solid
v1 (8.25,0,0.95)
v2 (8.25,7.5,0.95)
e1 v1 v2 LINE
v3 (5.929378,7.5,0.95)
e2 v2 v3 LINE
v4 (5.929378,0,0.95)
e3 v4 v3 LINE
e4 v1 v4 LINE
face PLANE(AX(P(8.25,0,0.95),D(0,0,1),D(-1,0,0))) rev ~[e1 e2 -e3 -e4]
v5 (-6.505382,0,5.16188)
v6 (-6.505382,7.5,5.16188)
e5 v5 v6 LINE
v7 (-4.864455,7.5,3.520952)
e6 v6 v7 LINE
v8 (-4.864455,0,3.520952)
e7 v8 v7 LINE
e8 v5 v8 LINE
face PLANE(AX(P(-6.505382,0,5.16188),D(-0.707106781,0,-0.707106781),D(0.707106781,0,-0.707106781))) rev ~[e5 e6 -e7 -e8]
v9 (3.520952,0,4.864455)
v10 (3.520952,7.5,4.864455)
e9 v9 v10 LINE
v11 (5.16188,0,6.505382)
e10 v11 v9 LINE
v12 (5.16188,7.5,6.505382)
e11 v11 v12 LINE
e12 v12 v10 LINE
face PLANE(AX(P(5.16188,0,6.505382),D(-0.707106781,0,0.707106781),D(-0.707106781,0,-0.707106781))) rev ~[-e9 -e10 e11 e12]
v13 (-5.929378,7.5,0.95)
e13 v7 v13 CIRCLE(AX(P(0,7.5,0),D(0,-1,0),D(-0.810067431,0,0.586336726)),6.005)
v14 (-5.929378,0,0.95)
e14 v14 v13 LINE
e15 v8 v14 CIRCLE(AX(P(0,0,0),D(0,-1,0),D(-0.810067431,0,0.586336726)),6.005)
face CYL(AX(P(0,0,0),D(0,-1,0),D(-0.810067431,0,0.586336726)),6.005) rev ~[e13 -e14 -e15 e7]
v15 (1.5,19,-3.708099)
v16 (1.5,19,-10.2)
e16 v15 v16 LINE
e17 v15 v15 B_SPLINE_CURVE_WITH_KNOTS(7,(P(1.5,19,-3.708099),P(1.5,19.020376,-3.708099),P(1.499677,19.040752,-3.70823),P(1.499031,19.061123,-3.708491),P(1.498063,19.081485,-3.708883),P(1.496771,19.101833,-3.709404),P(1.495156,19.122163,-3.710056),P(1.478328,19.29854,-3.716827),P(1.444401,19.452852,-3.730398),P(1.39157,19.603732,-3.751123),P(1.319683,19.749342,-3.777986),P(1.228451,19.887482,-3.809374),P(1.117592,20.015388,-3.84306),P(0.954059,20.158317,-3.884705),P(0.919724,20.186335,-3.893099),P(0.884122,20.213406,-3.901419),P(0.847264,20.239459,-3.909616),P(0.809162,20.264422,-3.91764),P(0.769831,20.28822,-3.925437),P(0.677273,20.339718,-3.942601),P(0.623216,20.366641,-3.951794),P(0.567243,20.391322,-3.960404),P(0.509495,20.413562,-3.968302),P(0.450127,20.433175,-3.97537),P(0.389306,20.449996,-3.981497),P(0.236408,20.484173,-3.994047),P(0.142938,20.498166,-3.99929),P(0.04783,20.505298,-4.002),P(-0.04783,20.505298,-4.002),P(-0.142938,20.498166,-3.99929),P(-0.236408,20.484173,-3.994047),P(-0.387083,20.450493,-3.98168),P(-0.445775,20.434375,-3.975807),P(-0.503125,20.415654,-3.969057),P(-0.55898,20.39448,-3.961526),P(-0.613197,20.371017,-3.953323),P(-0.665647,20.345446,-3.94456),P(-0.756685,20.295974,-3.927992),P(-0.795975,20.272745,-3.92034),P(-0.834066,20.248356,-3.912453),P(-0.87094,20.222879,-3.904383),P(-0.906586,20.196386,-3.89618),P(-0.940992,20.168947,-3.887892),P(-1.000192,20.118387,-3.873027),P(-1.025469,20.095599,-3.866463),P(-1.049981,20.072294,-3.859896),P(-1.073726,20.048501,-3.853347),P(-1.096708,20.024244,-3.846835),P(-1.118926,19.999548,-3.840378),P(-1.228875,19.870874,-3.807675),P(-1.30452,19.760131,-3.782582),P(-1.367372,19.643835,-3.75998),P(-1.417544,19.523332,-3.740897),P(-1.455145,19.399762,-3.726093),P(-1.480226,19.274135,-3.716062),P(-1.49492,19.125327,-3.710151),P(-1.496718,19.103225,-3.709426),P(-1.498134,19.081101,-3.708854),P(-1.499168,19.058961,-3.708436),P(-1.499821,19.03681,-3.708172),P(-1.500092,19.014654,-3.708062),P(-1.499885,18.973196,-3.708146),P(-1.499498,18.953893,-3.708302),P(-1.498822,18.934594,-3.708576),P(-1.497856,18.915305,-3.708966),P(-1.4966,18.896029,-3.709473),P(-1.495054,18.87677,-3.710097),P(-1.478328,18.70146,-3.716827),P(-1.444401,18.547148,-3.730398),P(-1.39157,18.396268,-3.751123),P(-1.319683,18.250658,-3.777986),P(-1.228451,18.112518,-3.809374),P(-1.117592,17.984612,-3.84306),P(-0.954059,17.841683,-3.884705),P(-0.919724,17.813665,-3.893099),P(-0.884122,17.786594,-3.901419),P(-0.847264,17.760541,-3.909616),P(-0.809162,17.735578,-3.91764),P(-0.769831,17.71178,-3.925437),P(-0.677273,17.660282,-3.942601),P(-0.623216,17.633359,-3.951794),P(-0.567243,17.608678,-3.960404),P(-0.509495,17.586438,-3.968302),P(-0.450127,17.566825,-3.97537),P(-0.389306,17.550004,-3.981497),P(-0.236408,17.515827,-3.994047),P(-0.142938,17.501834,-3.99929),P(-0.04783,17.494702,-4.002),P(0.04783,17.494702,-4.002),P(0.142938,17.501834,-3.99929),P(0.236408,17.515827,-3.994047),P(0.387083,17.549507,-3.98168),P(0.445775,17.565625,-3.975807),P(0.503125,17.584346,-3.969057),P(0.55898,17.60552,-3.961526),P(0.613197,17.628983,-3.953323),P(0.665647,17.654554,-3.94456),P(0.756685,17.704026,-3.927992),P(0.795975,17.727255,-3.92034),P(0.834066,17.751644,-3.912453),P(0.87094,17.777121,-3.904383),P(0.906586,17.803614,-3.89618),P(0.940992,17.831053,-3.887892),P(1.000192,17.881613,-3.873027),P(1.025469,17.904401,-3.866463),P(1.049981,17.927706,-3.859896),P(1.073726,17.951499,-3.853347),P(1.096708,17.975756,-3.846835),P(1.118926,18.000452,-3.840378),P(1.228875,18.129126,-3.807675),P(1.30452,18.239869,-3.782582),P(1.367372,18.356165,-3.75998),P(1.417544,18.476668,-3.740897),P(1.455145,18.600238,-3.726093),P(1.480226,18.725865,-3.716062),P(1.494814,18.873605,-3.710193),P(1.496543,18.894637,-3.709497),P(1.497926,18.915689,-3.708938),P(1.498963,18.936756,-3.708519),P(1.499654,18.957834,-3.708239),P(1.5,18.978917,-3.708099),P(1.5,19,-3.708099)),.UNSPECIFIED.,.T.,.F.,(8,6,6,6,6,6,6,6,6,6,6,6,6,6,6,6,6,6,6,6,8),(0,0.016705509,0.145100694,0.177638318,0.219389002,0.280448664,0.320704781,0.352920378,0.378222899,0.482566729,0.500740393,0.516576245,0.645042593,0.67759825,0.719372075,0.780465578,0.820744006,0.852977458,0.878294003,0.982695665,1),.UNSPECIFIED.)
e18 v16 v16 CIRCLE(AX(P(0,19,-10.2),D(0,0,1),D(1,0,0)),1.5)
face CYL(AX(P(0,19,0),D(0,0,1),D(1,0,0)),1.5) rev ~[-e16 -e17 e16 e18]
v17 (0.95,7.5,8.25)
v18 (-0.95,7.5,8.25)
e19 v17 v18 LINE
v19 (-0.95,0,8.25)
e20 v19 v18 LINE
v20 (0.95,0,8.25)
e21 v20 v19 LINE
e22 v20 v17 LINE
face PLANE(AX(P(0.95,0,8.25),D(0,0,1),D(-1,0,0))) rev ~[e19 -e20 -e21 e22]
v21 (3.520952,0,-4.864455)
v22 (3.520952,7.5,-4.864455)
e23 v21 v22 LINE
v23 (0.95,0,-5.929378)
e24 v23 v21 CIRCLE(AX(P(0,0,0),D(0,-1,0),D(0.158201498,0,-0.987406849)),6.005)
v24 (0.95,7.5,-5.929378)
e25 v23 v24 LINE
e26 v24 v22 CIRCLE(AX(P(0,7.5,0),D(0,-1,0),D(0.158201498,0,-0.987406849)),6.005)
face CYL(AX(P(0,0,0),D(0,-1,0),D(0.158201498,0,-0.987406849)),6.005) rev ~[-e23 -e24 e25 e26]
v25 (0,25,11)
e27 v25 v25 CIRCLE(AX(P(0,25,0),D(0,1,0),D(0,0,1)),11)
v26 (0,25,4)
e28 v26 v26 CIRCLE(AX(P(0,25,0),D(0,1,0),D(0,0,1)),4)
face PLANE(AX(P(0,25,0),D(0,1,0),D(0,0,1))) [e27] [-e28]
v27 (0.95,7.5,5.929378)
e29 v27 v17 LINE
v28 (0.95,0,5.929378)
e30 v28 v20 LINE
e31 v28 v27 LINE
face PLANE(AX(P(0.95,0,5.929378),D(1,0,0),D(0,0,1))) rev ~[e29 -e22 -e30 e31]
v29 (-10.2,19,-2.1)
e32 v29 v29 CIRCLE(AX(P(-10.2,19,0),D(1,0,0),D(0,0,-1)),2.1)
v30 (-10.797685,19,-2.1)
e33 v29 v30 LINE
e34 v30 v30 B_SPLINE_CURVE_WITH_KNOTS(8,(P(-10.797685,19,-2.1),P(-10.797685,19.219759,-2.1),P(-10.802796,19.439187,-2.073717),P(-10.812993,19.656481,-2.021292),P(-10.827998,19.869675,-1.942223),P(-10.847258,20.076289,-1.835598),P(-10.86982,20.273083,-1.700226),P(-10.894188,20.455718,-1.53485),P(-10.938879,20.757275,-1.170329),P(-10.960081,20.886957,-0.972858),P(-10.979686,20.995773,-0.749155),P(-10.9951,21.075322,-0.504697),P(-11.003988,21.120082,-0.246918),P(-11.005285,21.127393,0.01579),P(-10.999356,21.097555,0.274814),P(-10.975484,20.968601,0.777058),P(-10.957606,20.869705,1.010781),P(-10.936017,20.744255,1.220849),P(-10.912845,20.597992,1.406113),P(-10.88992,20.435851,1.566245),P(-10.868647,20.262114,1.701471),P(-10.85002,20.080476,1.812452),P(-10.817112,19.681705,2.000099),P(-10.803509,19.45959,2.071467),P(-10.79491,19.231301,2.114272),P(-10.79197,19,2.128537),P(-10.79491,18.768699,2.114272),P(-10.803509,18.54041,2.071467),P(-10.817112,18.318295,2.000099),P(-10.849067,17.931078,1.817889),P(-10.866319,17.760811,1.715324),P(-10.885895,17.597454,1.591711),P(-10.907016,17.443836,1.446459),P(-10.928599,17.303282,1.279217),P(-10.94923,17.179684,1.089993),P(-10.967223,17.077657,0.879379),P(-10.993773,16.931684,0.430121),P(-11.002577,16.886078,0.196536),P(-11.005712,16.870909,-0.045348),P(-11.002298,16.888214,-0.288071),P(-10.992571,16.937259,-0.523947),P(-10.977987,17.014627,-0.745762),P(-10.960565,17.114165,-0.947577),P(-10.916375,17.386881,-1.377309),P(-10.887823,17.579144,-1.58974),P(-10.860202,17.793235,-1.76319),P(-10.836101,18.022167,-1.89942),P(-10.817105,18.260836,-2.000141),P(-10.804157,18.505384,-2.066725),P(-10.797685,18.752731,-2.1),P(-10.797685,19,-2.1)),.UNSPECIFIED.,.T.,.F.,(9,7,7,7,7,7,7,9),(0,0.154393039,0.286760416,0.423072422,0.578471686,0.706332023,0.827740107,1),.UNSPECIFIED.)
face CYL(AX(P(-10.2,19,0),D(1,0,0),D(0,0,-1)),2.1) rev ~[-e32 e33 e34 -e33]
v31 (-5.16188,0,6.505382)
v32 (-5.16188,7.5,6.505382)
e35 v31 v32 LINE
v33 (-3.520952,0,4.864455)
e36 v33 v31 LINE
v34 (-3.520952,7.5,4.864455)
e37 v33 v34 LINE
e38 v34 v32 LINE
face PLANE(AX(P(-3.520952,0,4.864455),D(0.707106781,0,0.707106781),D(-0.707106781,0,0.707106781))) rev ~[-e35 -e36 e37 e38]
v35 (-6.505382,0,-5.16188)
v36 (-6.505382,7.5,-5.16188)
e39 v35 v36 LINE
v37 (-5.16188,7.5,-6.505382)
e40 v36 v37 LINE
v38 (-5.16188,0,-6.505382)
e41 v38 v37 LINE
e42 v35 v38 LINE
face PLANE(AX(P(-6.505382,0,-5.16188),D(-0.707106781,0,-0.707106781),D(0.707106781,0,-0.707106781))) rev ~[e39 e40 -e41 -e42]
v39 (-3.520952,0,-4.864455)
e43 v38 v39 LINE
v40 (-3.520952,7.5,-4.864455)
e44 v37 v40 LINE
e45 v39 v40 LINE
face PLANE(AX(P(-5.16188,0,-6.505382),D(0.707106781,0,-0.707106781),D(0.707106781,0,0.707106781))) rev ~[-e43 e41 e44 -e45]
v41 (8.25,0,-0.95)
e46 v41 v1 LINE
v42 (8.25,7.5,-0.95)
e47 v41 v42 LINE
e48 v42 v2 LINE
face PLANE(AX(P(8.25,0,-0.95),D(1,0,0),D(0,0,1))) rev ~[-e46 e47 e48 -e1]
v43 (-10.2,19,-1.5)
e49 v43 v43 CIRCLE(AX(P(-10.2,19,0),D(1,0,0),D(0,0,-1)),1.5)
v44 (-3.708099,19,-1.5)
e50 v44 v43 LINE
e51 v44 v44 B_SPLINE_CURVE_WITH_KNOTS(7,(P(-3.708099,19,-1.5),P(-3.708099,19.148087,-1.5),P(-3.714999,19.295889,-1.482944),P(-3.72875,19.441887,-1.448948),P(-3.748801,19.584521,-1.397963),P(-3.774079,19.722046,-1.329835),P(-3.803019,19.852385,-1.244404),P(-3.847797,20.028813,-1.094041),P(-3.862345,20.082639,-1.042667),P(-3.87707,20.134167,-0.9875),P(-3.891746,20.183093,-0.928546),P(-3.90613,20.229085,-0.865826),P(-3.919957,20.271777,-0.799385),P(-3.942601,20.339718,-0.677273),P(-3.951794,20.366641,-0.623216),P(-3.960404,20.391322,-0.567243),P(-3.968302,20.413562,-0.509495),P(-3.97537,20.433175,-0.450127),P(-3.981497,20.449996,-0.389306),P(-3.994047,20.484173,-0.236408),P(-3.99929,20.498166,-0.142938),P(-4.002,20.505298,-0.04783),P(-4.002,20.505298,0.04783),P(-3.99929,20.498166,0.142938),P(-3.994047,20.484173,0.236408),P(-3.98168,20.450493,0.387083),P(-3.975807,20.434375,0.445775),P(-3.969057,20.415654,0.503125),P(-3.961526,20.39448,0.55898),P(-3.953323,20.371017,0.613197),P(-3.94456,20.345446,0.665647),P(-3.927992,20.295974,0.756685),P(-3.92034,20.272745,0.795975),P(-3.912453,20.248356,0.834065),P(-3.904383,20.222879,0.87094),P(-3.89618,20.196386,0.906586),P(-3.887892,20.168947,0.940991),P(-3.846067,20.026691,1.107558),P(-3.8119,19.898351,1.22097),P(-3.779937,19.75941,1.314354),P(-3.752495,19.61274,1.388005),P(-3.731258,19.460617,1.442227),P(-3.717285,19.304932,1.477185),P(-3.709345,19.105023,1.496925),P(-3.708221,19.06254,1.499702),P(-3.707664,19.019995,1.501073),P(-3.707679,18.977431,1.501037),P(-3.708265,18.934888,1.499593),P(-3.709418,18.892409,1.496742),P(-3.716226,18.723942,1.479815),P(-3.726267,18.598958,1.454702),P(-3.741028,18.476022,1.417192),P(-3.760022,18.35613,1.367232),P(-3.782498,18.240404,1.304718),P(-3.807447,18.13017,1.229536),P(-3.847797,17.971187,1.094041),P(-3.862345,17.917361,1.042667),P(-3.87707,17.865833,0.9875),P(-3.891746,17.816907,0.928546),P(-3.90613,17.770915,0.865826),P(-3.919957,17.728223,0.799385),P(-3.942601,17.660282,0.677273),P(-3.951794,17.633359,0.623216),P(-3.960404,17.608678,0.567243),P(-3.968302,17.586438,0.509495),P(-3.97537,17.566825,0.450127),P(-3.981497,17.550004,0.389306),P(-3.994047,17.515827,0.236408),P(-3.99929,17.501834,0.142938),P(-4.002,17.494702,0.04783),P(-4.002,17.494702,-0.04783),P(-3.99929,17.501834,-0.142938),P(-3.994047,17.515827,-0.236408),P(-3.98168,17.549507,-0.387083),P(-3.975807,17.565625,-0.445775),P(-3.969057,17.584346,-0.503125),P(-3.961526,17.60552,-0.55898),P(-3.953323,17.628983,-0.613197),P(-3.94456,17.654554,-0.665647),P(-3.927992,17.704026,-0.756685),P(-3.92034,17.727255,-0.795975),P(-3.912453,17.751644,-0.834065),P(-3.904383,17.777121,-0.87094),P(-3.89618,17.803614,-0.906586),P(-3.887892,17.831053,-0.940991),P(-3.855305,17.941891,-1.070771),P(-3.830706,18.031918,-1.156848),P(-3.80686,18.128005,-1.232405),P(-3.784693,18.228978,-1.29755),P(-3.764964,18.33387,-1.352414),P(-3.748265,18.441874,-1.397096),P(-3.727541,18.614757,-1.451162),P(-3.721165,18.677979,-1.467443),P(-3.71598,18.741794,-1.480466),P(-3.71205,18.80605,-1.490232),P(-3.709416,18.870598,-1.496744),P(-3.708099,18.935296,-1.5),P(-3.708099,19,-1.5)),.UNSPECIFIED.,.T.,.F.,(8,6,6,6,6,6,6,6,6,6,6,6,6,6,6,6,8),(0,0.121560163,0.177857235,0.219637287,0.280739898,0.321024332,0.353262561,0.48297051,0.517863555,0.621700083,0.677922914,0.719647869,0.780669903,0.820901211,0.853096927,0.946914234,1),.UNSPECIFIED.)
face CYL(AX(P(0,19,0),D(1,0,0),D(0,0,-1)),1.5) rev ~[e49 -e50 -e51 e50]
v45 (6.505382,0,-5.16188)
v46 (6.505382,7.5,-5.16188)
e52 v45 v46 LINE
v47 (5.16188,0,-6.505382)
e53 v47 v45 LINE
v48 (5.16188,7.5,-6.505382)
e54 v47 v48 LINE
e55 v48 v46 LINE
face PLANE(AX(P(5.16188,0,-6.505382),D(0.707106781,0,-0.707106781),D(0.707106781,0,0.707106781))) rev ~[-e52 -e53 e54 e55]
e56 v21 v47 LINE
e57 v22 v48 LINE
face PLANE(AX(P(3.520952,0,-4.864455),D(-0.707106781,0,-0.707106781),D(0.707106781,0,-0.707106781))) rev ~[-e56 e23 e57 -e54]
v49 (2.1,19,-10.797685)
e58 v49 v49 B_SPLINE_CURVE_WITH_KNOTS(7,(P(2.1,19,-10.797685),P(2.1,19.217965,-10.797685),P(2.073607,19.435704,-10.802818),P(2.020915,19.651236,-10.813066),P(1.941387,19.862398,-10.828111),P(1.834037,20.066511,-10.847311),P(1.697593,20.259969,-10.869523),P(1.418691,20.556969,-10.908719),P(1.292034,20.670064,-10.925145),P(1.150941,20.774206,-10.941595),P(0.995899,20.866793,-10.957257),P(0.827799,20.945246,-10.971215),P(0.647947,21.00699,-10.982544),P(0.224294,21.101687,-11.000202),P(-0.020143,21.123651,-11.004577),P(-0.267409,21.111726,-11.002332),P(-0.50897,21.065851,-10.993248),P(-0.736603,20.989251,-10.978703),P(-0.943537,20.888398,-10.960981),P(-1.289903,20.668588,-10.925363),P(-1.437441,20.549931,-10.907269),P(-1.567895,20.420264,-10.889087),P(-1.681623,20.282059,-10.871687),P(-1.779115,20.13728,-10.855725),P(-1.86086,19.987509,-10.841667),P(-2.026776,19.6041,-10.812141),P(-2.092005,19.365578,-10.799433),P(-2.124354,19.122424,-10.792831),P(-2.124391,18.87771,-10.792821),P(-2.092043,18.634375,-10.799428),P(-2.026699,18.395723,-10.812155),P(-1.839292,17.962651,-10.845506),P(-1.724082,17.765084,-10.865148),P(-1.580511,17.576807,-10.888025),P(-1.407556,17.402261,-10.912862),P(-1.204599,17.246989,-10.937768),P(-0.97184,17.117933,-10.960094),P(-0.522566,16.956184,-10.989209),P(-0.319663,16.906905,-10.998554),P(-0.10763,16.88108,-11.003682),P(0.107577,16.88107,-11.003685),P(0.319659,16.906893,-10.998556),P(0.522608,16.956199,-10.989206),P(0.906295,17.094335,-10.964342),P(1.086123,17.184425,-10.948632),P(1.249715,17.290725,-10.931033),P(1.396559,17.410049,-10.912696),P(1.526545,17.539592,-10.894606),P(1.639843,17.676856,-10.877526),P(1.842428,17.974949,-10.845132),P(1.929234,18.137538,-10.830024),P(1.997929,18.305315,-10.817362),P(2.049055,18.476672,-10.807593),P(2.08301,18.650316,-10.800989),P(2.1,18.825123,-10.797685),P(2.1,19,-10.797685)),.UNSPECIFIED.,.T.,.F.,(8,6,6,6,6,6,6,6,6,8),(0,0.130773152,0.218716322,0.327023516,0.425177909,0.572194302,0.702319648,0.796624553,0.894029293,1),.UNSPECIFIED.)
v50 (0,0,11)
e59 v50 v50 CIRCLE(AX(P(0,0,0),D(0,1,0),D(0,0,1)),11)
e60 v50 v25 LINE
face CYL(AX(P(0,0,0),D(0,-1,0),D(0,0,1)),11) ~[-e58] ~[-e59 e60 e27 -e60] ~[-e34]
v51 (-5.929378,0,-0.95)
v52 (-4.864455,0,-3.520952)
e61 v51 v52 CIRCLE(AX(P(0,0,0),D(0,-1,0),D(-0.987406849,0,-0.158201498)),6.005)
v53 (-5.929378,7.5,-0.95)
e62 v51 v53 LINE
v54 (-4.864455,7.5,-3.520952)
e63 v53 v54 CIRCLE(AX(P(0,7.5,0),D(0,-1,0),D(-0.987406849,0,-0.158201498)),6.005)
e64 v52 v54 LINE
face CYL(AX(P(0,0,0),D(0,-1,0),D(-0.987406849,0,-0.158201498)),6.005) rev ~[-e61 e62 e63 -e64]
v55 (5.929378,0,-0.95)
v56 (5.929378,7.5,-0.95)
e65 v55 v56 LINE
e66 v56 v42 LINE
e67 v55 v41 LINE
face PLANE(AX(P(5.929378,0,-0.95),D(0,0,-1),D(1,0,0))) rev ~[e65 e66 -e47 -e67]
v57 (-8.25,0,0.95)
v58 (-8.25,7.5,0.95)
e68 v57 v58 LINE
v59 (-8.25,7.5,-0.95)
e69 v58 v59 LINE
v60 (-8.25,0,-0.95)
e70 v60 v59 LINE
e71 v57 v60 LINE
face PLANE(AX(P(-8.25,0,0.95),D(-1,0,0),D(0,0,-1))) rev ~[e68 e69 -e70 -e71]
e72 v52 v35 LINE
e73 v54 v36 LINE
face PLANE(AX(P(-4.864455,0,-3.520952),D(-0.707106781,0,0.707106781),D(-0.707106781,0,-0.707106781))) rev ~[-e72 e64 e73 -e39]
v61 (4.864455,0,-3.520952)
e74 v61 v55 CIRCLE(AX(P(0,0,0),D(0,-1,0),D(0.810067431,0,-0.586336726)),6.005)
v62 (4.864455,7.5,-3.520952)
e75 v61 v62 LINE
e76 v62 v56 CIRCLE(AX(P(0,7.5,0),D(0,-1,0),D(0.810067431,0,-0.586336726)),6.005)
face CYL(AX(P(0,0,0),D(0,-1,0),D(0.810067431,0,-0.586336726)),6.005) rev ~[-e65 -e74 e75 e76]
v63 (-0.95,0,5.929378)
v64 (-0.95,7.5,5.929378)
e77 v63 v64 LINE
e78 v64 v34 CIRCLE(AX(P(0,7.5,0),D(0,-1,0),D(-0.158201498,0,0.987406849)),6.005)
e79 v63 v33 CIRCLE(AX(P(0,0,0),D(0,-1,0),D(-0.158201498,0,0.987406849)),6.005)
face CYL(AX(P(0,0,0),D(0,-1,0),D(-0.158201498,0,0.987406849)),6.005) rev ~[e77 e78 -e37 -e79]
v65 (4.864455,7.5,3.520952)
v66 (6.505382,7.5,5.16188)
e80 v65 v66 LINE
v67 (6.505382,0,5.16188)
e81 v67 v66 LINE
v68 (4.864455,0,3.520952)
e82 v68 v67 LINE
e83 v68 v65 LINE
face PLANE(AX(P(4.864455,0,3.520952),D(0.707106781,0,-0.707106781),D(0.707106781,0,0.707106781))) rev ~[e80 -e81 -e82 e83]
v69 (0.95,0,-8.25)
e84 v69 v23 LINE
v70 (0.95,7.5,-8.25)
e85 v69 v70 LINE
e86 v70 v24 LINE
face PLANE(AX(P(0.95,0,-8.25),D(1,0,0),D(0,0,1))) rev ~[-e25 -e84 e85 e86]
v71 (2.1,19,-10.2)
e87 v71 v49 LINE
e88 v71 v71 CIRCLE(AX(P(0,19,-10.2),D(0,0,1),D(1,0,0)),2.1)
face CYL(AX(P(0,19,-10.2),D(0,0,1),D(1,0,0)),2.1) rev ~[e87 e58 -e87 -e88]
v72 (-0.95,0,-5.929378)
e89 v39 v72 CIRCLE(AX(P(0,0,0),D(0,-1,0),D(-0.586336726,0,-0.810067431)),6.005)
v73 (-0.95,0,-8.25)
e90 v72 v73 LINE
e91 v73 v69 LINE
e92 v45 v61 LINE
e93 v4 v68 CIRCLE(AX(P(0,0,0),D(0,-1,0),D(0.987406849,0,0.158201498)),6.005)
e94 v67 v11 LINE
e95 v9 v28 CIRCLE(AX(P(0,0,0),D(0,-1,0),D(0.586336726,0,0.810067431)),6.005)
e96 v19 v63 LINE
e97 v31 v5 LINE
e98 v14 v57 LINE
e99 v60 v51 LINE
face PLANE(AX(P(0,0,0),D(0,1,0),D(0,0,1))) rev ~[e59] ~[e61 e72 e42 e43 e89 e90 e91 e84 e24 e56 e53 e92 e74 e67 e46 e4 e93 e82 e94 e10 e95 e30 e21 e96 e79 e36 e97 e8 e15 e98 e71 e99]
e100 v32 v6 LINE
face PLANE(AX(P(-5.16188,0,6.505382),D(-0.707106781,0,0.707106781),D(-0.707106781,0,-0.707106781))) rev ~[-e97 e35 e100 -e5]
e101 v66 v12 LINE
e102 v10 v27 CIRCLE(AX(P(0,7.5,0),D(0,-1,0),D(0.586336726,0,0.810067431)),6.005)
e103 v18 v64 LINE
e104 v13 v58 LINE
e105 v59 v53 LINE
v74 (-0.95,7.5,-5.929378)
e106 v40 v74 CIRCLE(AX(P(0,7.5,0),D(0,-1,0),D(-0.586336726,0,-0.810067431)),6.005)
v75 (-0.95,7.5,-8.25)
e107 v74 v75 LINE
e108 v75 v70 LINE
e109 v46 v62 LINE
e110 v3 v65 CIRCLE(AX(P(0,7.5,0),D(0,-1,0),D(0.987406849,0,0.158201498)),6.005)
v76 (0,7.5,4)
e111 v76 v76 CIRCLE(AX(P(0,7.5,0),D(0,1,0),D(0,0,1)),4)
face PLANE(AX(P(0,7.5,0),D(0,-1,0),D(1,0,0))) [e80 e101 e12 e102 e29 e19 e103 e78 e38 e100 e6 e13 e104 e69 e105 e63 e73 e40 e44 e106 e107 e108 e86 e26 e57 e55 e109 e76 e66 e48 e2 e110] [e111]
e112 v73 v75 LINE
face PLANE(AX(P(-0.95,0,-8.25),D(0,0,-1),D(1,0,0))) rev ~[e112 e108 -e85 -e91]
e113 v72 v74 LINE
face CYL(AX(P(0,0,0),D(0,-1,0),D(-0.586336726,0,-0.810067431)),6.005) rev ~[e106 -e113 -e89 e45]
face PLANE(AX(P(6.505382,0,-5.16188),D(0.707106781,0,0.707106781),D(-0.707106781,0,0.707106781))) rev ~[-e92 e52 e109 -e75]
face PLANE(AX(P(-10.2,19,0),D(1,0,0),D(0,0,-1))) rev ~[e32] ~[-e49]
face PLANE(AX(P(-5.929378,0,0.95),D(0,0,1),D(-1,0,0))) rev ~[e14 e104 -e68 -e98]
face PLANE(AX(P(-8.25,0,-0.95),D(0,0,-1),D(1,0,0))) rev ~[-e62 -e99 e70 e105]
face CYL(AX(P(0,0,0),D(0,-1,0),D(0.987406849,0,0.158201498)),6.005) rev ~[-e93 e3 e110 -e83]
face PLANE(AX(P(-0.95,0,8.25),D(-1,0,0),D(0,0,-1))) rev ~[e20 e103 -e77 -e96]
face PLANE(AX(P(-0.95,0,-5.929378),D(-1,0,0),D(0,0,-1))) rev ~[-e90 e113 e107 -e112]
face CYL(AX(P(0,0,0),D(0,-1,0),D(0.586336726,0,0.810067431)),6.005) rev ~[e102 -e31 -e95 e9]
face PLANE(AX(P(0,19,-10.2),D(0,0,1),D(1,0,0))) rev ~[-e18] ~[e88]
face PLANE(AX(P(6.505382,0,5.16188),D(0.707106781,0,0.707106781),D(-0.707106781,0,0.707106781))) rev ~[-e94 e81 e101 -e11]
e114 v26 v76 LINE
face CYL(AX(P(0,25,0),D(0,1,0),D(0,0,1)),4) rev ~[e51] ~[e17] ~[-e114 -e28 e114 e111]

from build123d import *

# Parameters (mm, degrees)
SKETCH1_R           = 11
BOSS_EXTRUDE1_DEPTH = 25
SKETCH2_R           = 4
CUT_EXTRUDE1_DEPTH  = 30.444863729
CUT_EXTRUDE2_DEPTH  = 7.5
SKETCH4_R           = 1.5
CUT_EXTRUDE3_DEPTH  = 30.444863729
SKETCH5_R           = 1.5
CUT_EXTRUDE4_DEPTH  = 30.444863896
CUT_EXTRUDE5_START  = -10.2
SKETCH7_R           = 2.1
CUT_EXTRUDE5_DEPTH  = 10
CUT_EXTRUDE6_START  = -10.2
SKETCH8_R           = 2.1
CUT_EXTRUDE6_DEPTH  = 10


with BuildPart() as part:
    # Sketch1 → Boss-Extrude1 (new body)
    with BuildSketch(Plane(origin=(0, 0, 0), x_dir=(1, 0, 0), z_dir=(0, 1, 0))):
        with Locations(Location((0, 0, 0), (0, 0, 270))):
            Circle(SKETCH1_R)
    extrude(amount=BOSS_EXTRUDE1_DEPTH)

    # Sketch2 → Cut-Extrude1 (cut, through all)
    with BuildSketch(Plane(origin=(0, 25, 0), x_dir=(1, 0, 0), z_dir=(0, 1, 0))):
        with Locations(Location((0, 0, 0), (0, 0, 270))):
            Circle(SKETCH2_R)
    extrude(amount=-CUT_EXTRUDE1_DEPTH, mode=Mode.SUBTRACT)

    # Sketch3 → Cut-Extrude2 (cut)
    with BuildSketch(Plane.XZ):
        with BuildLine():
            Line((4.864454926, 3.520952041), (6.505382387, 5.161879503))
            Line((6.505382387, 5.161879503), (5.161879503, 6.505382387))
            Line((5.161879503, 6.505382387), (3.520952041, 4.864454926))
            ThreePointArc((3.520952041, 4.864454926), (2.298014011, 5.547896593), (0.95, 5.929378129))
            Line((0.95, 5.929378129), (0.95, 8.25))
            Line((0.95, 8.25), (-0.95, 8.25))
            Line((-0.95, 8.25), (-0.95, 5.929378129))
            ThreePointArc((-0.95, 5.929378129), (-2.298014011, 5.547896593), (-3.520952041, 4.864454926))
            Line((-3.520952041, 4.864454926), (-5.161879503, 6.505382387))
            Line((-5.161879503, 6.505382387), (-6.505382387, 5.161879503))
            Line((-6.505382387, 5.161879503), (-4.864454926, 3.520952041))
            ThreePointArc((-4.864454926, 3.520952041), (-5.547896593, 2.298014011), (-5.929378129, 0.95))
            Line((-5.929378129, 0.95), (-8.25, 0.95))
            Line((-8.25, 0.95), (-8.25, -0.95))
            Line((-8.25, -0.95), (-5.929378129, -0.95))
            ThreePointArc((-5.929378129, -0.95), (-5.547896593, -2.298014011), (-4.864454926, -3.520952041))
            Line((-4.864454926, -3.520952041), (-6.505382387, -5.161879503))
            Line((-6.505382387, -5.161879503), (-5.161879503, -6.505382387))
            Line((-5.161879503, -6.505382387), (-3.520952041, -4.864454926))
            ThreePointArc((-3.520952041, -4.864454926), (-2.298014011, -5.547896593), (-0.95, -5.929378129))
            Line((-0.95, -5.929378129), (-0.95, -8.25))
            Line((-0.95, -8.25), (0.95, -8.25))
            Line((0.95, -8.25), (0.95, -5.929378129))
            ThreePointArc((0.95, -5.929378129), (2.298014011, -5.547896593), (3.520952041, -4.864454926))
            Line((3.520952041, -4.864454926), (5.161879503, -6.505382387))
            Line((5.161879503, -6.505382387), (6.505382387, -5.161879503))
            Line((6.505382387, -5.161879503), (4.864454926, -3.520952041))
            ThreePointArc((4.864454926, -3.520952041), (5.547896593, -2.298014011), (5.929378129, -0.95))
            Line((5.929378129, -0.95), (8.25, -0.95))
            Line((8.25, -0.95), (8.25, 0.95))
            Line((8.25, 0.95), (5.929378129, 0.95))
            ThreePointArc((5.929378129, 0.95), (5.547896593, 2.298014011), (4.864454926, 3.520952041))
        make_face()
    extrude(amount=-CUT_EXTRUDE2_DEPTH, mode=Mode.SUBTRACT)

    # Sketch4 → Cut-Extrude3 (cut, through all)
    with BuildSketch(Plane.XY):
        with Locations((0, 19)):
            Circle(SKETCH4_R)
    extrude(amount=-CUT_EXTRUDE3_DEPTH, mode=Mode.SUBTRACT)

    # Sketch5 → Cut-Extrude4 (cut, through all)
    with BuildSketch(Plane(origin=(0, 0, 0), x_dir=(0, 0, -1), z_dir=(1, 0, 0))):
        with Locations((0, 19)):
            Circle(SKETCH5_R)
    extrude(amount=-CUT_EXTRUDE4_DEPTH, mode=Mode.SUBTRACT)

    # Sketch7 → Cut-Extrude5 (cut)
    with BuildSketch(Plane.XY.offset(CUT_EXTRUDE5_START)):
        with Locations((0, 19)):
            Circle(SKETCH7_R)
    extrude(amount=-CUT_EXTRUDE5_DEPTH, mode=Mode.SUBTRACT)

    # Sketch8 → Cut-Extrude6 (cut)
    with BuildSketch(Plane(origin=(0, 0, 0), x_dir=(0, 0, -1), z_dir=(1, 0, 0)).offset(CUT_EXTRUDE6_START)):
        with Locations((0, 19)):
            Circle(SKETCH8_R)
    extrude(amount=-CUT_EXTRUDE6_DEPTH, mode=Mode.SUBTRACT)


solid = part.part
